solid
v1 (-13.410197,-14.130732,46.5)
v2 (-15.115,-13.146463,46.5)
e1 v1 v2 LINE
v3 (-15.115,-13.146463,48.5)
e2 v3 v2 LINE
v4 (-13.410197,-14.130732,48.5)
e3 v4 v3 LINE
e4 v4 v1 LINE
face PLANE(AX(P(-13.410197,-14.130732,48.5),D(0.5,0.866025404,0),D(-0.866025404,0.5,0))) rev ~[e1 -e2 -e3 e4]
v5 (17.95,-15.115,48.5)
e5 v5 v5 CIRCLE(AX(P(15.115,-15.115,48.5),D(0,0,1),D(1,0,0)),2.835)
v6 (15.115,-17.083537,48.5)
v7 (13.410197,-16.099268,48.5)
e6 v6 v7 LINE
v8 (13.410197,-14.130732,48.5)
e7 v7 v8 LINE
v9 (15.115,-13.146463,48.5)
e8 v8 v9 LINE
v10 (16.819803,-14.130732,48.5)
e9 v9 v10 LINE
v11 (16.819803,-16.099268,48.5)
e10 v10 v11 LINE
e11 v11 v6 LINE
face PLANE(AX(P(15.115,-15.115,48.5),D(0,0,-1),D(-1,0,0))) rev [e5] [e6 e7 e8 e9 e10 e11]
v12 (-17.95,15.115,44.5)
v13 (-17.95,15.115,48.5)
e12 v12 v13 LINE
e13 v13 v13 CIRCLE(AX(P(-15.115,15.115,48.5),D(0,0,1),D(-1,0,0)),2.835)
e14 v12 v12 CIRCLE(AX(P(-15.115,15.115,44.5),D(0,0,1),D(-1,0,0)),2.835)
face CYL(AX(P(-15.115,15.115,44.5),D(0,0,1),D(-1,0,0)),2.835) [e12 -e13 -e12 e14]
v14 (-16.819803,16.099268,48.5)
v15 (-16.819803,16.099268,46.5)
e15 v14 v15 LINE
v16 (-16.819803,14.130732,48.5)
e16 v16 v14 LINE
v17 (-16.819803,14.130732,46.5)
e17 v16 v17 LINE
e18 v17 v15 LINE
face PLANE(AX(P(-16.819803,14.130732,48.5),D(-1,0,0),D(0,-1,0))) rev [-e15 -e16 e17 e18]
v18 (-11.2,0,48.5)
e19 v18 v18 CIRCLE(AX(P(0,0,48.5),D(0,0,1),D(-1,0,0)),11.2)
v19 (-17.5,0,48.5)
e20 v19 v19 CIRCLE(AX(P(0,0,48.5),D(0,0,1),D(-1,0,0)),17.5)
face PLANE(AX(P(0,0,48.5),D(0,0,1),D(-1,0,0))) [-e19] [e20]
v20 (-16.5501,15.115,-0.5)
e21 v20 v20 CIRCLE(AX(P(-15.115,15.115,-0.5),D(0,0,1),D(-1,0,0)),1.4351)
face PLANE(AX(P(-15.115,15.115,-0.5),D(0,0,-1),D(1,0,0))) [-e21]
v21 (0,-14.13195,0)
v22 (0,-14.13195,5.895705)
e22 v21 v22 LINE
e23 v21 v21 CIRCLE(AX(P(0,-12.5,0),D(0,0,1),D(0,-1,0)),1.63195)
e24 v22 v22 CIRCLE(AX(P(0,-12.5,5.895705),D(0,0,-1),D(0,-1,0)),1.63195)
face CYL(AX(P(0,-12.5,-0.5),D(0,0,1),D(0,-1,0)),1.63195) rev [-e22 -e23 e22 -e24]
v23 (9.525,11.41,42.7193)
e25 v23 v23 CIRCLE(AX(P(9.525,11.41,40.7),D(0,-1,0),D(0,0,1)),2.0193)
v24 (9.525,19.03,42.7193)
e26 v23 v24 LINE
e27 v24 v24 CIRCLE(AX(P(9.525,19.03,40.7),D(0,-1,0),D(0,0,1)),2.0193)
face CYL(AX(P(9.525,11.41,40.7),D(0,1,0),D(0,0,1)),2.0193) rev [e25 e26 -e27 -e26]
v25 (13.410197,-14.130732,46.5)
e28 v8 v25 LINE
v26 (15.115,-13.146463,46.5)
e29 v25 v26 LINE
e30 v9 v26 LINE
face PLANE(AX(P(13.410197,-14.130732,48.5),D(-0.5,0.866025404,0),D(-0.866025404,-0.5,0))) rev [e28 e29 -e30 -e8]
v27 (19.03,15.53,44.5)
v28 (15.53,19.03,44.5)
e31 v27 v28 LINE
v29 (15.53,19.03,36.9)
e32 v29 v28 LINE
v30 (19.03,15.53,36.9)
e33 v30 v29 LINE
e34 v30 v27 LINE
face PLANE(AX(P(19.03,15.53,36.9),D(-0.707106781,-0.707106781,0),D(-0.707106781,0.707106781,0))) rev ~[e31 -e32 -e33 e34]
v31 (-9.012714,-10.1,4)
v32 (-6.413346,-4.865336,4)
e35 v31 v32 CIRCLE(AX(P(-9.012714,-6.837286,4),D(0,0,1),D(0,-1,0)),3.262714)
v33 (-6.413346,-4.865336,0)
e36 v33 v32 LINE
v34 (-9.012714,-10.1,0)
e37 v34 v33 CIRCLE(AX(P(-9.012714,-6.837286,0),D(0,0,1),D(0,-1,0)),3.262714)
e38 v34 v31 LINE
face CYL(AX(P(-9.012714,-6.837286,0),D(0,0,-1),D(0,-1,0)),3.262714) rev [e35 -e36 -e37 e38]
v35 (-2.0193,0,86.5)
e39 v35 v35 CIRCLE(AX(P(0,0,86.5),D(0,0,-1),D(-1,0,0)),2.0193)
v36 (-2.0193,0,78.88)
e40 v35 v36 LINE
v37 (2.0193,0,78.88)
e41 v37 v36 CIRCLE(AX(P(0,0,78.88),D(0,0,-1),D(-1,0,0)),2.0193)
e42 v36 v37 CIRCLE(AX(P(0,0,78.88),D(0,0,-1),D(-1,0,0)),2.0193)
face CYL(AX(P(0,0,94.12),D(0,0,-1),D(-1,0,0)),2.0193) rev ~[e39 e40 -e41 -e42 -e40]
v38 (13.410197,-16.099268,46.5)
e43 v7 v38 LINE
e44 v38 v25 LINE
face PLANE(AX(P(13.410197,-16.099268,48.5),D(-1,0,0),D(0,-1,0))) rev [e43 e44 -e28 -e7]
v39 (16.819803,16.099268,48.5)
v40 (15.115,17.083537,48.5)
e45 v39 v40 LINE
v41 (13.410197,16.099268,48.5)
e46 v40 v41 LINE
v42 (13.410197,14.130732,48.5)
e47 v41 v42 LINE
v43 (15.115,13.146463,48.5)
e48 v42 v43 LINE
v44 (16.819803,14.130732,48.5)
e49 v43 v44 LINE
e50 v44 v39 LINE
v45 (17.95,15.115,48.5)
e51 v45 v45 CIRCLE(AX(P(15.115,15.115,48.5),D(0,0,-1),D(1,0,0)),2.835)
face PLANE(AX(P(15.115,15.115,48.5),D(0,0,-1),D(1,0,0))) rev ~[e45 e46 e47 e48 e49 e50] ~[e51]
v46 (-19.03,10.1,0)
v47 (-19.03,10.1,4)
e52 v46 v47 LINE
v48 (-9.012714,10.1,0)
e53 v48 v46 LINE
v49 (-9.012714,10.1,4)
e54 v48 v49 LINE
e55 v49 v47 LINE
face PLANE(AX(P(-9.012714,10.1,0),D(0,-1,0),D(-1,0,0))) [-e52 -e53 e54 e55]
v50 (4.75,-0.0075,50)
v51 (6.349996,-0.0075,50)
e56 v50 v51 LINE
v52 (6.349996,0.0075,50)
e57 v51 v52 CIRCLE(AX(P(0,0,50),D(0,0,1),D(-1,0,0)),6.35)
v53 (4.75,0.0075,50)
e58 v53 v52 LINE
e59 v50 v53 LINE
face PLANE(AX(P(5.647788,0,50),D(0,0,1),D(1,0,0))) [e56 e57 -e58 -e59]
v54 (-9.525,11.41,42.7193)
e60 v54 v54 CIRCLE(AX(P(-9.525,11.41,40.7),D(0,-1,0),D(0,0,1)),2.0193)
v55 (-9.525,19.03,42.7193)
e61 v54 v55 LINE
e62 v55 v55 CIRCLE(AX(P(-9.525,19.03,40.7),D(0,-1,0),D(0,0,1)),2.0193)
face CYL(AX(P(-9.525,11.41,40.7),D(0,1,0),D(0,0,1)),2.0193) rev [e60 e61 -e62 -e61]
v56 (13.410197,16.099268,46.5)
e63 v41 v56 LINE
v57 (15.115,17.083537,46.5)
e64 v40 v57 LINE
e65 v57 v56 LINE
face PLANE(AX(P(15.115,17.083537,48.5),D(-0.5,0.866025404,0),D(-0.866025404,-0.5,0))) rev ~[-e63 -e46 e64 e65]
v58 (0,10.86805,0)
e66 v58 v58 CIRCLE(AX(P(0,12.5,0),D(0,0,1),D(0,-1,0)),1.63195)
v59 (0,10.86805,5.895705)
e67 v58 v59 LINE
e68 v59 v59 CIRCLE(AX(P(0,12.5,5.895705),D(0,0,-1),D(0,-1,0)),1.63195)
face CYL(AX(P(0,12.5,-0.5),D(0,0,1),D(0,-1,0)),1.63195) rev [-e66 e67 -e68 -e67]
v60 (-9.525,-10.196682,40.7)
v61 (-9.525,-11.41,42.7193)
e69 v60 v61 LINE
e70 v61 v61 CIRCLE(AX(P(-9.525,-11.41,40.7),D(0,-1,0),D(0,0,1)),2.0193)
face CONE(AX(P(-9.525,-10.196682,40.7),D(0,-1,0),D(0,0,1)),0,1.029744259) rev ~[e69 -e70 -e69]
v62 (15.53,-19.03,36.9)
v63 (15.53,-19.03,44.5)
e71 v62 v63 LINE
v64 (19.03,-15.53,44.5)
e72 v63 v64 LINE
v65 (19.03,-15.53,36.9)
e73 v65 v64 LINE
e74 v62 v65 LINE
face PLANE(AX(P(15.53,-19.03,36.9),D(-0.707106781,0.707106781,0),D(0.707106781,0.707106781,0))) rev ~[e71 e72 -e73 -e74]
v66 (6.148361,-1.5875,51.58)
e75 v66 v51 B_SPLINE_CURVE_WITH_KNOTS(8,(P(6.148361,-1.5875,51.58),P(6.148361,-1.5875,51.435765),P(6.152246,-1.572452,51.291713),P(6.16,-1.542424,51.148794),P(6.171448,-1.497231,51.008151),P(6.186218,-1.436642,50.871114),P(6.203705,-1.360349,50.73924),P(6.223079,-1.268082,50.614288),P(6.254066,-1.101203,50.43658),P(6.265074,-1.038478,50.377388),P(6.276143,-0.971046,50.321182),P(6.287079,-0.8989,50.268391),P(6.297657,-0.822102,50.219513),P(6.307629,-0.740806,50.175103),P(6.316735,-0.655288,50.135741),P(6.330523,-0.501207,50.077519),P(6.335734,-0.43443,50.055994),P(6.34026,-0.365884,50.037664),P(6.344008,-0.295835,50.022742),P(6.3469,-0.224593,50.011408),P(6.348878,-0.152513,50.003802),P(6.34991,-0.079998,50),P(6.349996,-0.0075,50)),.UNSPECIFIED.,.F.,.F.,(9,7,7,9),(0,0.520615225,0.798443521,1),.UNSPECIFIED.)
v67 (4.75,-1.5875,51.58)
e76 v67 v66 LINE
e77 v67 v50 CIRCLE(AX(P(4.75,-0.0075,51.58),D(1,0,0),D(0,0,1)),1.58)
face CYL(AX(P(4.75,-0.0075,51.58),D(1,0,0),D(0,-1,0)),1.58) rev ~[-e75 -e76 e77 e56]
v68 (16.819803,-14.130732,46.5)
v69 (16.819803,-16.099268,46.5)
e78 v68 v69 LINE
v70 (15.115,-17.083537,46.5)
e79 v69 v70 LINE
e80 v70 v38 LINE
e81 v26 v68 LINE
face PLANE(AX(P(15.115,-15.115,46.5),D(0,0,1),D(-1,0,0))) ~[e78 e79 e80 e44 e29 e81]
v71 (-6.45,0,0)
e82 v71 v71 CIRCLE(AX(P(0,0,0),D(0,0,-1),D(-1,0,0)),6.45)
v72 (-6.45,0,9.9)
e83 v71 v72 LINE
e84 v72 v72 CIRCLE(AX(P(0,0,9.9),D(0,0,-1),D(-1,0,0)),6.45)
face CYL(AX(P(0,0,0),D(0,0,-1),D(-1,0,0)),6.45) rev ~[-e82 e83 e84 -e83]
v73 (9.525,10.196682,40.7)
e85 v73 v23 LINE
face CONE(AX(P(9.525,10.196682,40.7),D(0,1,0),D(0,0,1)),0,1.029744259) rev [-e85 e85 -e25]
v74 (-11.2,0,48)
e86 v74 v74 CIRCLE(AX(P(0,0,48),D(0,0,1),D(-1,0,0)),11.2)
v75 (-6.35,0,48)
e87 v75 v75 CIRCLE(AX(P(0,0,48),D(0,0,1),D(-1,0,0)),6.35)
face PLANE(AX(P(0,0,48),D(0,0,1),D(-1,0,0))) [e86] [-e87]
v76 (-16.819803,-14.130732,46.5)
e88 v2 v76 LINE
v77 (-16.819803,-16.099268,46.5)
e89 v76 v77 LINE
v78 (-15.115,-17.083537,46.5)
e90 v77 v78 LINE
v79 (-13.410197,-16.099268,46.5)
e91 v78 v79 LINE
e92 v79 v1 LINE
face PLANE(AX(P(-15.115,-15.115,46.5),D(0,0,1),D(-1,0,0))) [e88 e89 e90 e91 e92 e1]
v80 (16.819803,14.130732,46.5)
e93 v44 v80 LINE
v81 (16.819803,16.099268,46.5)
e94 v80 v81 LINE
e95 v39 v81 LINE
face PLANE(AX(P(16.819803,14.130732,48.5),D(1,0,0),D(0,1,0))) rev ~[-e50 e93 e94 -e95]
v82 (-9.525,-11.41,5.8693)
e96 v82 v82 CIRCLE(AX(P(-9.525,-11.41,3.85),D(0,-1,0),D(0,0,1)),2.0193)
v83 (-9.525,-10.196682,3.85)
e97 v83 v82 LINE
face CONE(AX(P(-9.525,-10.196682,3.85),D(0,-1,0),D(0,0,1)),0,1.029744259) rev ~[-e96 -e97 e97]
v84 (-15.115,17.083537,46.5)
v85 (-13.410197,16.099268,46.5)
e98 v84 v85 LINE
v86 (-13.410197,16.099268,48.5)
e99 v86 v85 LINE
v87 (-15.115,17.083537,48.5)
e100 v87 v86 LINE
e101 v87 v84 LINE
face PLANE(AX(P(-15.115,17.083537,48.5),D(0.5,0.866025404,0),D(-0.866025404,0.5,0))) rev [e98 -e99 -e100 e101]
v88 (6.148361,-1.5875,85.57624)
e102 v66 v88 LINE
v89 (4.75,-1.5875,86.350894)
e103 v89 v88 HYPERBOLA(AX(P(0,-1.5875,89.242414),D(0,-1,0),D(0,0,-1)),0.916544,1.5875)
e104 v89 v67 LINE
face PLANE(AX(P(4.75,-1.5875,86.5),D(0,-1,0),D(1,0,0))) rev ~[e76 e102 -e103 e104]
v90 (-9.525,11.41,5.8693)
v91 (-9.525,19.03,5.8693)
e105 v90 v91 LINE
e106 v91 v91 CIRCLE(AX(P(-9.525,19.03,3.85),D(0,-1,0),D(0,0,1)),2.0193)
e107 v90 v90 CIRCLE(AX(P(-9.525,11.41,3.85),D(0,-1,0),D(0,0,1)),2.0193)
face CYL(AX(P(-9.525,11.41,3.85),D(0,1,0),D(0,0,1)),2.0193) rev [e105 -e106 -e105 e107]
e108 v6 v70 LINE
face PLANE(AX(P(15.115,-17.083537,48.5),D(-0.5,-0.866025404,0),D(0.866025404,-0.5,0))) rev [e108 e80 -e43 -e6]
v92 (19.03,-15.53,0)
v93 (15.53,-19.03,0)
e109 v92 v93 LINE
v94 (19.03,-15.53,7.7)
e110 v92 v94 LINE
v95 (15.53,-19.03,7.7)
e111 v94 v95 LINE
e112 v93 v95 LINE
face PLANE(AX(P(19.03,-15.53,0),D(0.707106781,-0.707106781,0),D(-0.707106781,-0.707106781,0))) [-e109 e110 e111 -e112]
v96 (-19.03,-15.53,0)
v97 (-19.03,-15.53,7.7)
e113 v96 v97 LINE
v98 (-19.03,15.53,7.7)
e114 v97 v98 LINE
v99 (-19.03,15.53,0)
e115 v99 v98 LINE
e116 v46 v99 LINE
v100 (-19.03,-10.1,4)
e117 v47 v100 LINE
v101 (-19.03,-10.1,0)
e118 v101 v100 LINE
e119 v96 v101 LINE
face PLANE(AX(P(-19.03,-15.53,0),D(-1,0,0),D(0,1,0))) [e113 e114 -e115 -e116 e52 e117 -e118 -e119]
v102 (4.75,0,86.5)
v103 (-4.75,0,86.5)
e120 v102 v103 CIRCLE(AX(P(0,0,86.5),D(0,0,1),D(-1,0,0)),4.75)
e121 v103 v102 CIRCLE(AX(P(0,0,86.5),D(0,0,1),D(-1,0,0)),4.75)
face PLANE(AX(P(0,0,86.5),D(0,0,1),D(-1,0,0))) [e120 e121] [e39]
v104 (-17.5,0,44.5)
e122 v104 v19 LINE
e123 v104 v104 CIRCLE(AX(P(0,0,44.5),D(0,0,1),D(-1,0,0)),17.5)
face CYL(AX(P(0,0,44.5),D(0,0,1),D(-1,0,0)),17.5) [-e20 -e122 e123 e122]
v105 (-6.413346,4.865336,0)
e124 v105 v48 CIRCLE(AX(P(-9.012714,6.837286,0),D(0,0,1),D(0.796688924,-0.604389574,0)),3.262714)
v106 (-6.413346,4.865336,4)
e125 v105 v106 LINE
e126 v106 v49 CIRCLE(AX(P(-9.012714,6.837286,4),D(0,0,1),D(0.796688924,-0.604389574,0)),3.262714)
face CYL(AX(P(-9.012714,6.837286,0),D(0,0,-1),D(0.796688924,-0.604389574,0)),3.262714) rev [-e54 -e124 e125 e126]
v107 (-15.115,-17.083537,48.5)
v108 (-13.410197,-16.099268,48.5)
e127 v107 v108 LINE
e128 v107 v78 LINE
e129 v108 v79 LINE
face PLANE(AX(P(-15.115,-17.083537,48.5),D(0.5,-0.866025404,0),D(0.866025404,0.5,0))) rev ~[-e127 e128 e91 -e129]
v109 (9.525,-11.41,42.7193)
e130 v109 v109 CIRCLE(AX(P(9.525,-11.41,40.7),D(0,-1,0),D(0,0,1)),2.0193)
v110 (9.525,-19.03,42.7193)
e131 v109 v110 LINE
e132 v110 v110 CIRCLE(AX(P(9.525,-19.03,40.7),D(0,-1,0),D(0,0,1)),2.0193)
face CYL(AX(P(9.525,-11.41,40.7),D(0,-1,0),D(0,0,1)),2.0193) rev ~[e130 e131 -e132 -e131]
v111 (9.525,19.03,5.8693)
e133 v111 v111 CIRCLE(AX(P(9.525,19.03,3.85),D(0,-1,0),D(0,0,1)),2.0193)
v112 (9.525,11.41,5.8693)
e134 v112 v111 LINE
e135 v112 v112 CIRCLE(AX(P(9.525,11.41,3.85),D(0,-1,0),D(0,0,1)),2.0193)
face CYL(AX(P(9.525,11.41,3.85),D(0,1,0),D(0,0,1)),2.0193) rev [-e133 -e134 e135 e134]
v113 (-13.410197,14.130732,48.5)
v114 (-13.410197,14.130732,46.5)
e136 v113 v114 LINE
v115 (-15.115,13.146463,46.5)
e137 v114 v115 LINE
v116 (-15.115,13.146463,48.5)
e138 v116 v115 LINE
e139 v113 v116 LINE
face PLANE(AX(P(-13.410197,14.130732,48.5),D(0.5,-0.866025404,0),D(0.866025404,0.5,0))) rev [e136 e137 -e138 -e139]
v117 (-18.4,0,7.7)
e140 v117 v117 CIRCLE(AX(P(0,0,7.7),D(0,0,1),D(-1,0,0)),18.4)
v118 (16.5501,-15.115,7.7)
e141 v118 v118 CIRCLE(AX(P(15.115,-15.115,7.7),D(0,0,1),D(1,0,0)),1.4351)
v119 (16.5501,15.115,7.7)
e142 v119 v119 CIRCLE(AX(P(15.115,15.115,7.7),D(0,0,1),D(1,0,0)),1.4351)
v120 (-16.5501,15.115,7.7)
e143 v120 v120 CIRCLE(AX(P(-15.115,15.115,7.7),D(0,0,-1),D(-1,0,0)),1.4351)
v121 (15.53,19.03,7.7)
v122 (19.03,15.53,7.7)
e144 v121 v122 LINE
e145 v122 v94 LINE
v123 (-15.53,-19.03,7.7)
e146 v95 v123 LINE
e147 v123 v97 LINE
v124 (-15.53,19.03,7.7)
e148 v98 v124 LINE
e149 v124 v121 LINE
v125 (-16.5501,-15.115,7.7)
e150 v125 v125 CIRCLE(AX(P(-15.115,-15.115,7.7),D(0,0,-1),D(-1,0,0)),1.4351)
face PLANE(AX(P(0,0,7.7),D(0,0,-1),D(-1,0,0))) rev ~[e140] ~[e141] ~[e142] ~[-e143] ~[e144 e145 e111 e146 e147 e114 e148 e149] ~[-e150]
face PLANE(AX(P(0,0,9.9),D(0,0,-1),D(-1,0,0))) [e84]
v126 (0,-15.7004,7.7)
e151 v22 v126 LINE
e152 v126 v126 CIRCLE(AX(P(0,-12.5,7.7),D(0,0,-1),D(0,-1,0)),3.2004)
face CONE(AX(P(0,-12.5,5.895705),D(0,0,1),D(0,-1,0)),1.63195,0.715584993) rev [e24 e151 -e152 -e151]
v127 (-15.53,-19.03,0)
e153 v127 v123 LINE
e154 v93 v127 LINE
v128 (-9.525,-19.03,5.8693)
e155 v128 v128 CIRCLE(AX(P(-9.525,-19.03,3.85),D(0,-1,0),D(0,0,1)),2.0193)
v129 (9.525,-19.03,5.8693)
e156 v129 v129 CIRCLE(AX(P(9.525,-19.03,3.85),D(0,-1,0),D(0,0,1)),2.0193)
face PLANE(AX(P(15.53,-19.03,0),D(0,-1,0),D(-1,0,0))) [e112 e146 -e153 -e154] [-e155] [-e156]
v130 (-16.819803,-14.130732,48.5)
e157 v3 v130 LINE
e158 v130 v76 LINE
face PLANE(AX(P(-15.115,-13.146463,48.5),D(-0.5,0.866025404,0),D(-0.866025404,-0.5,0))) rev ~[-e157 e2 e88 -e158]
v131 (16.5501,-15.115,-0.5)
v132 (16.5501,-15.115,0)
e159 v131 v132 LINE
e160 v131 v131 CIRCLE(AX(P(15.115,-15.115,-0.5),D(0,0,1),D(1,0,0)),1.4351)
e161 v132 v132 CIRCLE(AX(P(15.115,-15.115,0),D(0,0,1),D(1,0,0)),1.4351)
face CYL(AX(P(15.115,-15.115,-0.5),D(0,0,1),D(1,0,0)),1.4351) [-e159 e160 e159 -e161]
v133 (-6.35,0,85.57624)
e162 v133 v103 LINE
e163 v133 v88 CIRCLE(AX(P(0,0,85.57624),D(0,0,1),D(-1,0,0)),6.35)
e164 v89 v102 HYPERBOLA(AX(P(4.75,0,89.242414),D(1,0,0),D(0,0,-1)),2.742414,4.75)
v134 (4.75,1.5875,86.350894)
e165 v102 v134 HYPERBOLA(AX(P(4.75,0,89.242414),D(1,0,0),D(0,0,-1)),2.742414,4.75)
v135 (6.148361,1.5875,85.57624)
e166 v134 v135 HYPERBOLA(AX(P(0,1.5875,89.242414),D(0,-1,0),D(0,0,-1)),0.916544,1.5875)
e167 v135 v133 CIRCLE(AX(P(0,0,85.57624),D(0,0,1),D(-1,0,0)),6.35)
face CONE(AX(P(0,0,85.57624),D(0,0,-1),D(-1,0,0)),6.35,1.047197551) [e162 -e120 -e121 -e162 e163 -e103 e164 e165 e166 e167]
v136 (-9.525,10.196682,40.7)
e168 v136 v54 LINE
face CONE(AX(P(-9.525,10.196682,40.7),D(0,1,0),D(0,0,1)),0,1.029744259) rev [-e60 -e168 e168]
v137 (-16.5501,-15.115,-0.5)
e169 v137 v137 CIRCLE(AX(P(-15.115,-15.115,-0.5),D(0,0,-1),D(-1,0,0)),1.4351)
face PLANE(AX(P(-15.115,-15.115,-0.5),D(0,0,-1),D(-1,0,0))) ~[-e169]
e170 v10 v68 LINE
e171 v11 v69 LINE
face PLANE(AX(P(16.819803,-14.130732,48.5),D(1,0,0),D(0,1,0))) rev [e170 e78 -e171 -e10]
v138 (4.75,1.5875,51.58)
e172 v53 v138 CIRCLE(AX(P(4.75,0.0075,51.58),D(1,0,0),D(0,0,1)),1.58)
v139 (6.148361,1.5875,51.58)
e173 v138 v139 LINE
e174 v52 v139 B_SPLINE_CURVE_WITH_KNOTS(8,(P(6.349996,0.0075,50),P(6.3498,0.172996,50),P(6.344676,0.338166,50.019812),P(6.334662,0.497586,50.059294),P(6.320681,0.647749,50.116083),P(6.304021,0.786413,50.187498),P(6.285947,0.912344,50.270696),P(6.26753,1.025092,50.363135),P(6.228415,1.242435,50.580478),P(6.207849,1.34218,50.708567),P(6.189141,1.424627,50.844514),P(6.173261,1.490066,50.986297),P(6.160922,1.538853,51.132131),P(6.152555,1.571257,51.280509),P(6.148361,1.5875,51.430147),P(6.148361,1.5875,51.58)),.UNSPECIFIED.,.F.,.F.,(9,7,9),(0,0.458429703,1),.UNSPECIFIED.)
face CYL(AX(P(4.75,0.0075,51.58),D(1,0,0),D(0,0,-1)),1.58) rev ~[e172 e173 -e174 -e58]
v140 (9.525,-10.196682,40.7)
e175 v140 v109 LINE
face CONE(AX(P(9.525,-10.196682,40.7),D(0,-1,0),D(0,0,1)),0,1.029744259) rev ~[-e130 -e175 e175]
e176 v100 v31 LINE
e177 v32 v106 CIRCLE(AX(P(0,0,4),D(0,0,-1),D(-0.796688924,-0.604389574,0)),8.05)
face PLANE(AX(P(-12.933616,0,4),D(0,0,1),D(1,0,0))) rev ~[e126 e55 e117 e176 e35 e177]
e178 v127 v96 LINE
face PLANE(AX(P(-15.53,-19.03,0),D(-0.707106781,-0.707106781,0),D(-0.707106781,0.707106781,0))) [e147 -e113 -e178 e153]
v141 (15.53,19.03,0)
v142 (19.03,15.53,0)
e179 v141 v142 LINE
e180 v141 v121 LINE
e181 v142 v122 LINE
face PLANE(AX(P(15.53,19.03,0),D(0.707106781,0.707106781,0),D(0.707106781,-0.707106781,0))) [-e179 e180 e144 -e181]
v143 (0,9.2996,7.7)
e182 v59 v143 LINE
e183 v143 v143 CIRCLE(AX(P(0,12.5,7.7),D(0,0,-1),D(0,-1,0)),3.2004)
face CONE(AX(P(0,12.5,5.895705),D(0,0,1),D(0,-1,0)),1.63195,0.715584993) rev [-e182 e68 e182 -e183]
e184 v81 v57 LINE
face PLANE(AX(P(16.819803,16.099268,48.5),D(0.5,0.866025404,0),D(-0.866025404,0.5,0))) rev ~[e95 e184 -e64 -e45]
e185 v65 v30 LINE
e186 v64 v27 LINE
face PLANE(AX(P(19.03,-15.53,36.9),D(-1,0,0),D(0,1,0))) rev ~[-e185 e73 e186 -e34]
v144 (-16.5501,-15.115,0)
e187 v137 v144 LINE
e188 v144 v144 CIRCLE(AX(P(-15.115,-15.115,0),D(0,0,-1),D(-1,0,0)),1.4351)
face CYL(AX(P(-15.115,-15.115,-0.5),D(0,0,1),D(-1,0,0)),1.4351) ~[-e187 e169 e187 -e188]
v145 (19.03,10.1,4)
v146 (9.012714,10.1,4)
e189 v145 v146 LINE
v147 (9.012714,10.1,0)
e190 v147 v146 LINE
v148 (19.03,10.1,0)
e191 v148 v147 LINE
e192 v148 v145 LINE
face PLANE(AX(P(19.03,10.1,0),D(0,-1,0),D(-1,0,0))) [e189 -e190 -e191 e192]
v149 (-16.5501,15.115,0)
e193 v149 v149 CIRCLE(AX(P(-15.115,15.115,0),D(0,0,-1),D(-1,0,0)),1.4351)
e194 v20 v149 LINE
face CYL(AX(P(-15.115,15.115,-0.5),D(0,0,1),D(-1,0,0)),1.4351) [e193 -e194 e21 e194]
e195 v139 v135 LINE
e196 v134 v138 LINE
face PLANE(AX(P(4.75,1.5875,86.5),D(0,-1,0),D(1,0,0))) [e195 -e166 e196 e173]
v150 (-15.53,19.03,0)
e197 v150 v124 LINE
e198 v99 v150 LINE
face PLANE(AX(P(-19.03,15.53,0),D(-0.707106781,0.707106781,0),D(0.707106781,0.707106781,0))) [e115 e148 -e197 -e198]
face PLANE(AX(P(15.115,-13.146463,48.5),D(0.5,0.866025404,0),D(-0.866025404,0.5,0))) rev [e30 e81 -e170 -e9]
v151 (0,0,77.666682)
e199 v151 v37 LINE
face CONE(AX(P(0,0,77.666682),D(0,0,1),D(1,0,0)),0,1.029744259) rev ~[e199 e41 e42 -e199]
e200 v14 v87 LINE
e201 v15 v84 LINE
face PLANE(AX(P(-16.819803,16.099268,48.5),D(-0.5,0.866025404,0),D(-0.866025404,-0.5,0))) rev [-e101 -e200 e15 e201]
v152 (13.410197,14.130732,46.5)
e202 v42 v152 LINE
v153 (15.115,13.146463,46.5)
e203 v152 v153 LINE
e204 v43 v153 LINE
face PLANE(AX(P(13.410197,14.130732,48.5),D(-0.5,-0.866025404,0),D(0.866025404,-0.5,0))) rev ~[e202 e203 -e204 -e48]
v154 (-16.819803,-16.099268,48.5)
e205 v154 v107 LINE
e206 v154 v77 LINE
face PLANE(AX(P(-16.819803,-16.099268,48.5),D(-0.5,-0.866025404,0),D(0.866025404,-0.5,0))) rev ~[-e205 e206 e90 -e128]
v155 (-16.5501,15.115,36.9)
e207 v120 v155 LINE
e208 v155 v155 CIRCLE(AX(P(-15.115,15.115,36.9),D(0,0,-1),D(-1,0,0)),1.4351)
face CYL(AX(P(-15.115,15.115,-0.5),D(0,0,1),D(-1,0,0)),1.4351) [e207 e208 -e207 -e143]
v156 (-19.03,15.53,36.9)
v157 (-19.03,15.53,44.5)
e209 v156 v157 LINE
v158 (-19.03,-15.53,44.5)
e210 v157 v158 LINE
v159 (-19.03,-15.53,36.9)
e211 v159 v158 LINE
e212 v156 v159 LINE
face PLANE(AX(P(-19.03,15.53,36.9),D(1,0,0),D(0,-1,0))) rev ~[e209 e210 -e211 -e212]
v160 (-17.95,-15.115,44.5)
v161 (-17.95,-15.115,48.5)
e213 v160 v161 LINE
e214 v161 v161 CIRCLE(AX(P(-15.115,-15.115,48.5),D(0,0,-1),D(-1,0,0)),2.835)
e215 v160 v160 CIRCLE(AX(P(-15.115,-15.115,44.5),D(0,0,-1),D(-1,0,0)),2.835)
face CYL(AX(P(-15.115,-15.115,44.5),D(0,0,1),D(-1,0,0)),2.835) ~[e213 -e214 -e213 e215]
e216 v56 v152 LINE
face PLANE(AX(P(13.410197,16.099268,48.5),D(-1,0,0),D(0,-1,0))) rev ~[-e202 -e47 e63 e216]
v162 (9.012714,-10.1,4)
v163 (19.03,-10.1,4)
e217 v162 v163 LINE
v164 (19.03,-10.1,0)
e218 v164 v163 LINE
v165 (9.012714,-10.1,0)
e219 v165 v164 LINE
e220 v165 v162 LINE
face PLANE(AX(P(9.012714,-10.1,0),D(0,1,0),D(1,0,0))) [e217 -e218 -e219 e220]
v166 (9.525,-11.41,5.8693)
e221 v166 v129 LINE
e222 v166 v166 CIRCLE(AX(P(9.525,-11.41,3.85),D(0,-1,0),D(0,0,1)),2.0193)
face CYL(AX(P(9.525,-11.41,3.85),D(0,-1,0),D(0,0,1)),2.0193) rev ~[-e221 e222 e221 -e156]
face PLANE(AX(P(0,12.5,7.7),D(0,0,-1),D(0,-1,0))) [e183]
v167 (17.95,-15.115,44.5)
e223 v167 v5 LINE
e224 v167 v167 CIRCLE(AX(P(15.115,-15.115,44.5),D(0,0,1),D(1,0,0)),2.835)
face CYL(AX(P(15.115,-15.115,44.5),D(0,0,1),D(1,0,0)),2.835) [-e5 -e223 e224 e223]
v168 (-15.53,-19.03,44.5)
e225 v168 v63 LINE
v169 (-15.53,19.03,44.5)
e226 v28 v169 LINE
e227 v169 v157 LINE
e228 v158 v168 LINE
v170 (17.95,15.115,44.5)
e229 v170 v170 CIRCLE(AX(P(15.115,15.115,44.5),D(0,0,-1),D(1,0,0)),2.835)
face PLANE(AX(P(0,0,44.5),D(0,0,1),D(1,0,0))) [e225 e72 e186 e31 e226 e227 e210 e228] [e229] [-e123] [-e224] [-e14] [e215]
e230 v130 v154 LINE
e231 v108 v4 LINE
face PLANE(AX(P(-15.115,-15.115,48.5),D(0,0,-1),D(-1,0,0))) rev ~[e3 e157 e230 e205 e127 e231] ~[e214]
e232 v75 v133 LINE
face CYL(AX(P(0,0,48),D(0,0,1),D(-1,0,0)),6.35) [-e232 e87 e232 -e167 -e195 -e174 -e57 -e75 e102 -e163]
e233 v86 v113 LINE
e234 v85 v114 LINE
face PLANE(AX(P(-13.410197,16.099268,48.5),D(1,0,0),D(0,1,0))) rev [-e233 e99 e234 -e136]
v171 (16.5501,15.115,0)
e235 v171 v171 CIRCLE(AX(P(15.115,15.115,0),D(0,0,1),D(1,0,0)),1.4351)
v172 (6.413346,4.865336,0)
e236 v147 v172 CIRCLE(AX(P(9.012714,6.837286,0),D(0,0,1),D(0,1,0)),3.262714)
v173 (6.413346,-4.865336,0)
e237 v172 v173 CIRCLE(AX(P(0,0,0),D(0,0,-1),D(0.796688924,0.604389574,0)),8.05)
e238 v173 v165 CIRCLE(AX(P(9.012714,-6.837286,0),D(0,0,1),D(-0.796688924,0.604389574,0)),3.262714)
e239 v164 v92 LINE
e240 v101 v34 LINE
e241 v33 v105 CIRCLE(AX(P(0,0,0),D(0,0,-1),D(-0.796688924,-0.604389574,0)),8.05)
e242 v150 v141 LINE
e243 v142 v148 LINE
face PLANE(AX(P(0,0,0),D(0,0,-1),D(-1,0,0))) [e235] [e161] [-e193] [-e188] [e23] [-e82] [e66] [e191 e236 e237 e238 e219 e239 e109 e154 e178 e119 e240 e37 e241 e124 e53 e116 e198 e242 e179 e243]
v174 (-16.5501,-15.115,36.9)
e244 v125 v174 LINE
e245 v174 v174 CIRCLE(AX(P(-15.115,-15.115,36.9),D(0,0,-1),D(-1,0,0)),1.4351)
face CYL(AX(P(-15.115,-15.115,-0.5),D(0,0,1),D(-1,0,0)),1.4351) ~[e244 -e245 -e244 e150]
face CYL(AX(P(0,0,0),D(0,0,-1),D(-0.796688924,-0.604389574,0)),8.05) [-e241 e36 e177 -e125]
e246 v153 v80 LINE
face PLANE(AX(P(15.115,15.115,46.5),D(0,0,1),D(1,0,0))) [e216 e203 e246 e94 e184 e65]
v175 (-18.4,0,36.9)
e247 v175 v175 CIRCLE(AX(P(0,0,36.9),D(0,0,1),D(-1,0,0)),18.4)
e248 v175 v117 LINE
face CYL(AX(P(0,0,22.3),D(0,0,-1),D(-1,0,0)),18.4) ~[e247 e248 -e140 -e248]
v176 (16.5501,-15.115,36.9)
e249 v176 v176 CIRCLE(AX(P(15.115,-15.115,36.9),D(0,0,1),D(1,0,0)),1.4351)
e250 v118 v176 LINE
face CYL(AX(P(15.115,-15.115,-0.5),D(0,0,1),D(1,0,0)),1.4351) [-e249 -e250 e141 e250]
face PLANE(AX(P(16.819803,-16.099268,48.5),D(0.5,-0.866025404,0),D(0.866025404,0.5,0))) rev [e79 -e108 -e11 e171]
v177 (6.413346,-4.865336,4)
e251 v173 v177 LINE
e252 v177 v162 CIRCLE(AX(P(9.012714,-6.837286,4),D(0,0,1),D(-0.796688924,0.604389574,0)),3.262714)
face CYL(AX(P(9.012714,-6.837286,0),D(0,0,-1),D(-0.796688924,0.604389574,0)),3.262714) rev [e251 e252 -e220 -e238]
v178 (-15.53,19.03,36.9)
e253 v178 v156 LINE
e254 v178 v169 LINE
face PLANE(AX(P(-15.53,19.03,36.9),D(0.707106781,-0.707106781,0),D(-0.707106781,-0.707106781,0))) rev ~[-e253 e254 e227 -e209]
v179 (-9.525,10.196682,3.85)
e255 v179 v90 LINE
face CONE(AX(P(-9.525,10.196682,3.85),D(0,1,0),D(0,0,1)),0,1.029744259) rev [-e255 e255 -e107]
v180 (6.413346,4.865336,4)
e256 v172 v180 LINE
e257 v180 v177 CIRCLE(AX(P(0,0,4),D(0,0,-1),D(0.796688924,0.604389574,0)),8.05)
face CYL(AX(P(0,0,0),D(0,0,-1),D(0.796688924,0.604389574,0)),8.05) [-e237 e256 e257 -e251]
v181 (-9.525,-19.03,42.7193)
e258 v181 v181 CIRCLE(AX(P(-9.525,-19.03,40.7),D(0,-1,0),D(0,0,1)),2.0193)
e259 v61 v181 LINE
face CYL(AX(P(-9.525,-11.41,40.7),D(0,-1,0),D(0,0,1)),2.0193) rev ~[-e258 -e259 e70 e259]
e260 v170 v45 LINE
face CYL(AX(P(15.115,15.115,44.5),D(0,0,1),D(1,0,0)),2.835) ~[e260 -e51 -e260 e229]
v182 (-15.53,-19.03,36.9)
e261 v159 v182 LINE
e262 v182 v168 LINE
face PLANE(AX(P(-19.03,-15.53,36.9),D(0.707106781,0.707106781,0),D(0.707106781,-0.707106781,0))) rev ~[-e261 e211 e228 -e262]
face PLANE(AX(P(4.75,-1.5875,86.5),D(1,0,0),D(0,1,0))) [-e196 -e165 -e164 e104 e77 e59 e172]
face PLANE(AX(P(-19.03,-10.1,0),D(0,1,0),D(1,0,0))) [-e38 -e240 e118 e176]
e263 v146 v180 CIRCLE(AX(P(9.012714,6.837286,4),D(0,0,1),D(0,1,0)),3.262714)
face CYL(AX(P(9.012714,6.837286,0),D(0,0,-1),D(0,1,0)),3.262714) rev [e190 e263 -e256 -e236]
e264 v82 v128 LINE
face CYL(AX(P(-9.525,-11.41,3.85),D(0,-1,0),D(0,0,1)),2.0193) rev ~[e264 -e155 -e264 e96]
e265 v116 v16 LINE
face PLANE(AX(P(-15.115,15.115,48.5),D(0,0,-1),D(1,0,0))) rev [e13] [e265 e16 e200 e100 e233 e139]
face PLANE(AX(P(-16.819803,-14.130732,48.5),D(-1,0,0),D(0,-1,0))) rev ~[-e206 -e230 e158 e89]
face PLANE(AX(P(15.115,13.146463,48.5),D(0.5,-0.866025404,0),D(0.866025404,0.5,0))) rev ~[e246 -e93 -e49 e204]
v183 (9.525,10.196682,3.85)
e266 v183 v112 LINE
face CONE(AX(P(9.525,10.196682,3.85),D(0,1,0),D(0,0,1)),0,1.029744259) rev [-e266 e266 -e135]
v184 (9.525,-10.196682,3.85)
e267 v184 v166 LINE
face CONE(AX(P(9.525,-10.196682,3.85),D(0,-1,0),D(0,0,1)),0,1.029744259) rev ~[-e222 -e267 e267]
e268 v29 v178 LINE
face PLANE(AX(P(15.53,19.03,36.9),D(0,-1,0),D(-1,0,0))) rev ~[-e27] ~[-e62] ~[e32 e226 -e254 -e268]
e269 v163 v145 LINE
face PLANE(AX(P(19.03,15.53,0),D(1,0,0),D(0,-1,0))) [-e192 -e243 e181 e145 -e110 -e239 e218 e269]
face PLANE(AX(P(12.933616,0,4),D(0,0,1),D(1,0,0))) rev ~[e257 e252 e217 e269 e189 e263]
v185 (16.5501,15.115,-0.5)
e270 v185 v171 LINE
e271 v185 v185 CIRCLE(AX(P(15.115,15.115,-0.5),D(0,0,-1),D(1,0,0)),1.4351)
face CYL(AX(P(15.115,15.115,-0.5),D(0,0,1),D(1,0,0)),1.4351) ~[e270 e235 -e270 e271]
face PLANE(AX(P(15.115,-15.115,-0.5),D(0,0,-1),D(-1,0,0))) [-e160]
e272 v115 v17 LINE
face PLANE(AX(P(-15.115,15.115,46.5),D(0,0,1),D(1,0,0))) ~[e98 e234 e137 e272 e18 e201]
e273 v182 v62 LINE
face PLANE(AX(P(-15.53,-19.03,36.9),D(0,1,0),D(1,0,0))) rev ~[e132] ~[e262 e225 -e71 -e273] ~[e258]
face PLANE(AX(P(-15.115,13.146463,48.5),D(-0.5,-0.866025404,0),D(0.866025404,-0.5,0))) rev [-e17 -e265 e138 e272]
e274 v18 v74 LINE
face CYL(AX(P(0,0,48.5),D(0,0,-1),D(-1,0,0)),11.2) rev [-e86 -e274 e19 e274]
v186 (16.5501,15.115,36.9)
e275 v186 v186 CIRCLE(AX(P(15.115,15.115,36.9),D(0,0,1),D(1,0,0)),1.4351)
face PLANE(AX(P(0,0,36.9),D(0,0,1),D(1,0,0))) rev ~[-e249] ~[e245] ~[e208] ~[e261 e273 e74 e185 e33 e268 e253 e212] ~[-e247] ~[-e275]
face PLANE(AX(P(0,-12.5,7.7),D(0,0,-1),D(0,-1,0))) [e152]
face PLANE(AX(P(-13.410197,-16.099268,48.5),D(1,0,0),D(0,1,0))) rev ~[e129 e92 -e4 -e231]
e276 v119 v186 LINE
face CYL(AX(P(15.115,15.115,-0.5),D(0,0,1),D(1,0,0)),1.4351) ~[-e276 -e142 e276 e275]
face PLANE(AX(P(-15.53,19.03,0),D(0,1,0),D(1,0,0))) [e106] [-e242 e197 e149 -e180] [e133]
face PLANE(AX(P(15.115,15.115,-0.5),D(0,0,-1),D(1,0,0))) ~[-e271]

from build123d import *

# Parameters (mm, degrees)
RESSALTO_EXTRUS_O1_DEPTH                      = 7.7
ESBO_O4_W                                     = 18.4
ESBO_O4_H                                     = 29.2
ESBO_O3_R                                     = 6.45
CORTE_EXTRUS_O1_DEPTH                         = 9.9
RESSALTO_EXTRUS_O2_DEPTH                      = 7.6
CORTE_EXTRUS_O2_DEPTH                         = 4
BROCA_DE_ROSQUEAR_PARA_TARRAXA_DE_10_32_D     = 4.0386
BROCA_DE_ROSQUEAR_PARA_TARRAXA_DE_10_32_DEPTH = 7.62
BROCA_DE_ROSQUEAR_PARA_TARRAXA_DE_10_32_TIP   = 1.213317848
ESBO_O9_W                                     = 1.795576077
ESBO_O9_H                                     = 3.175
CORTE_EXTRUS_O3_DEPTH                         = 36.5
FILETE1_R                                     = 1.58
BROCA_DE_ROSQUEAR_PARA_TARRAXA_DE_1_2_A_COUNT = 2
BROCA_DE_ROSQUEAR_PARA_TARRAXA_DE_1_2_A_PITCH = 19.05
BROCA_DE_ROSQUEAR_PARA_TARRAXA_DE_1_3_COUNT   = 2
BROCA_DE_ROSQUEAR_PARA_TARRAXA_DE_1_3_PITCH   = 41.482827772
BROCA_DE_ROSQUEAR_PARA_TARRAXA_DE_1_4_COUNT   = 2
BROCA_DE_ROSQUEAR_PARA_TARRAXA_DE_1_4_PITCH   = 36.85
BROCA_DE_ROSQUEAR_PARA_TARRAXA_DE_6_401_D     = 2.8702
CORTE_EXTRUS_O4_DEPTH                         = 2
ESPELHAR1_COPY_2_DEPTH                        = 2
ESCAREADO_PARA_PARAFUSO_DE_M_QUINA_C_2_COUNT  = 2
ESCAREADO_PARA_PARAFUSO_DE_M_QUINA_C_2_PITCH  = 25


with BuildPart() as part:
    # Esboço2 → Ressalto-extrusão1 (new body)
    with BuildSketch(Plane.XY):
        Polygon((-19.03, 15.53), (-15.53, 19.03), (15.53, 19.03), (19.03, 15.53), (19.03, -15.53), (15.53, -19.03), (-15.53, -19.03), (-19.03, -15.53), align=None)
    extrude(amount=RESSALTO_EXTRUS_O1_DEPTH)

    # Esboço4 → Revolução1 (revolve)
    with BuildSketch(Plane(origin=(0, 0, 0), x_dir=(1, 0, 0), z_dir=(0, 1, 0)), mode=Mode.PRIVATE) as revolu_o1_sk:
        with Locations((9.2, -22.3)):
            Rectangle(ESBO_O4_W, ESBO_O4_H)
        Polygon((0, -44.5), (17.5, -44.5), (17.5, -48.5), (11.2, -48.5), (11.2, -48), (6.35, -48), (6.35, -85.576239569), (4.75, -86.5), (0, -86.5), align=None)
    revolve(revolu_o1_sk.sketch.rotate(Axis((0, 0, -5.757774852), (0, 0, 1)), 180), axis=Axis((0, 0, -5.757774852), (0, 0, 1)))


with BuildPart() as revolu_o1_piece_1:
    # of the separate pieces the step leaves, piece 1, a body of its own (revolu_o1_pieces)
    add(part.part.solids().sort_by_distance((-19.03, 15.53, 0))[0])

    # Esboço3 → Corte-extrusão1 (cut)
    with BuildSketch(Plane(origin=(0, 0, 0), x_dir=(-1, 0, 0), z_dir=(0, 0, -1))):
        Circle(ESBO_O3_R)
    extrude(amount=-CORTE_EXTRUS_O1_DEPTH, mode=Mode.SUBTRACT)



with BuildPart() as revolu_o1_piece_2:
    # of the separate pieces the step leaves, piece 2, a body of its own (revolu_o1_pieces)
    add(part.part.solids().sort_by_distance((-17.5, 0, 44.5))[0])


with BuildPart() as revolu_o1_piece_1_1:
    add(revolu_o1_piece_1.part)

    add(revolu_o1_piece_2.part)  # Ressalto-extrusão2 merges Revolução1 piece 2
    # Esboço5 → Ressalto-extrusão2 (add)
    with BuildSketch(Plane.XY.offset(36.9)):
        Polygon((-15.53, 19.03), (-19.03, 15.53), (-19.03, -15.53), (-15.53, -19.03), (15.53, -19.03), (19.03, -15.53), (19.03, 15.53), (15.53, 19.03), align=None)
    extrude(amount=RESSALTO_EXTRUS_O2_DEPTH)

    # Esboço6 → Corte-extrusão2 (cut)
    with BuildSketch(Plane(origin=(0, 0, 0), x_dir=(-1, 0, 0), z_dir=(0, 0, -1))):
        with BuildLine():
            Line((-19.03, -10.1), (-19.03, 10.1))
            Line((-19.03, 10.1), (-9.012713751, 10.1))
            ThreePointArc((-9.012713751, 10.1), (-6.090453498, 8.288387911), (-6.413345842, 4.865336074))
            ThreePointArc((-6.413345842, 4.865336074), (-8.05, 0), (-6.413345842, -4.865336074))
            ThreePointArc((-6.413345842, -4.865336074), (-6.090453498, -8.288387911), (-9.012713751, -10.1))
            Line((-9.012713751, -10.1), (-19.03, -10.1))
        make_face()
        with BuildLine():
            Line((19.03, -10.1), (9.012713751, -10.1))
            ThreePointArc((9.012713751, -10.1), (6.090453498, -8.288387911), (6.413345842, -4.865336074))
            ThreePointArc((6.413345842, -4.865336074), (8.05, 0), (6.413345842, 4.865336074))
            ThreePointArc((6.413345842, 4.865336074), (6.090453498, 8.288387911), (9.012713751, 10.1))
            Line((9.012713751, 10.1), (19.03, 10.1))
            Line((19.03, 10.1), (19.03, -10.1))
        make_face()
    extrude(amount=-CORTE_EXTRUS_O2_DEPTH, mode=Mode.SUBTRACT)

    # Broca de rosquear para tarraxa de _10-32
    with Locations(Plane.XY.offset(86.5)):
        with Locations((0, 0)):
            Hole(BROCA_DE_ROSQUEAR_PARA_TARRAXA_DE_10_32_D / 2, depth=BROCA_DE_ROSQUEAR_PARA_TARRAXA_DE_10_32_DEPTH)
            with Locations((0, 0, -(BROCA_DE_ROSQUEAR_PARA_TARRAXA_DE_10_32_DEPTH + BROCA_DE_ROSQUEAR_PARA_TARRAXA_DE_10_32_TIP / 2))):  # 118° drill point
                Cone(0, BROCA_DE_ROSQUEAR_PARA_TARRAXA_DE_10_32_D / 2, BROCA_DE_ROSQUEAR_PARA_TARRAXA_DE_10_32_TIP, mode=Mode.SUBTRACT)

    # Esboço9 → Corte-extrusão3 (cut)
    with BuildSketch(Plane.XY.offset(86.5)):
        with Locations((5.647788038, 0)):
            Rectangle(ESBO_O9_W, ESBO_O9_H)
    extrude(amount=-CORTE_EXTRUS_O3_DEPTH, mode=Mode.SUBTRACT)

    # Filete1
    filete1_edges = [revolu_o1_piece_1_1.edges().sort_by_distance(p)[0] for p in [
        (5.449180531, 1.5875, 50),
        (5.449180531, -1.5875, 50),
    ]]
    fillet(filete1_edges, radius=FILETE1_R)

    # Esboço11 → Broca de rosquear para tarraxa de _1 2 (revolve, cut)
    with BuildSketch(Plane(origin=(9.525, 19.03, 3.85), x_dir=(0, 0, 1), z_dir=(1, 0, 0))):
        Polygon((0, 0), (0, 8.833317848), (2.0193, 7.62), (2.0193, 0), align=None)
    broca_de_rosquear_para_tarraxa_de_1_2 = revolve(axis=Axis((9.525, 25.38, 3.85), (0, -1, 0)), mode=Mode.SUBTRACT)

    # Broca de rosquear para tarraxa de _1 2 a: Broca de rosquear para tarraxa de _1 2 ×2
    with Locations(*[(-i * BROCA_DE_ROSQUEAR_PARA_TARRAXA_DE_1_2_A_PITCH, 0, 0) for i in range(1, BROCA_DE_ROSQUEAR_PARA_TARRAXA_DE_1_2_A_COUNT)]):
        add(broca_de_rosquear_para_tarraxa_de_1_2, mode=Mode.SUBTRACT)

    # Broca de rosquear para tarraxa de _1 3: Broca de rosquear para tarraxa de _1 2 ×2
    with Locations(*[Vector(-0.45922616713812264, 0, 0.8883193836766308) * (i * BROCA_DE_ROSQUEAR_PARA_TARRAXA_DE_1_3_PITCH) for i in range(1, BROCA_DE_ROSQUEAR_PARA_TARRAXA_DE_1_3_COUNT)]):
        add(broca_de_rosquear_para_tarraxa_de_1_2, mode=Mode.SUBTRACT)

    # Broca de rosquear para tarraxa de _1 4: Broca de rosquear para tarraxa de _1 2 ×2
    with Locations(*[(0, 0, i * BROCA_DE_ROSQUEAR_PARA_TARRAXA_DE_1_4_PITCH) for i in range(1, BROCA_DE_ROSQUEAR_PARA_TARRAXA_DE_1_4_COUNT)]):
        add(broca_de_rosquear_para_tarraxa_de_1_2, mode=Mode.SUBTRACT)

    # Espelhar3: Broca de rosquear para tarraxa de _1 2 across plane
    add(broca_de_rosquear_para_tarraxa_de_1_2.mirror(Plane.ZX), mode=Mode.SUBTRACT)

    # Espelhar3 copy 1 sketch → Espelhar3 copy 1 (revolve, cut)
    with BuildSketch(Plane(origin=(-9.525, -19.03, 3.85), x_dir=(0, 0, 1), z_dir=(1, 0, 0))):
        Polygon((0, 0), (0, -8.833317848), (2.0193, -7.62), (2.0193, 0), align=None)
    revolve(axis=Axis((-9.525, -25.38, 3.85), (0, -1, 0)), mode=Mode.SUBTRACT)

    # Espelhar3 copy 2 sketch → Espelhar3 copy 2 (revolve, cut)
    with BuildSketch(Plane(origin=(-9.525, -19.03, 40.7), x_dir=(0, 0, 1), z_dir=(1, 0, 0))):
        Polygon((0, 0), (0, -8.833317848), (2.0193, -7.62), (2.0193, 0), align=None)
    revolve(axis=Axis((-9.525, -25.38, 40.7), (0, -1, 0)), mode=Mode.SUBTRACT)

    # Espelhar3 copy 3 sketch → Espelhar3 copy 3 (revolve, cut)
    with BuildSketch(Plane(origin=(9.525, -19.03, 40.7), x_dir=(0, 0, 1), z_dir=(1, 0, 0))):
        Polygon((0, 0), (0, -8.833317848), (2.0193, -7.62), (2.0193, 0), align=None)
    revolve(axis=Axis((9.525, -25.38, 40.7), (0, -1, 0)), mode=Mode.SUBTRACT)

    # Broca de rosquear para tarraxa de #6-401 (through all)
    with Locations(Plane(origin=(0, 0, 0), x_dir=(-1, 0, 0), z_dir=(0, 0, -1))):
        with Locations((-15.115, 15.115), (15.115, 15.115), (15.115, -15.115), (-15.115, -15.115)):
            Hole(BROCA_DE_ROSQUEAR_PARA_TARRAXA_DE_6_401_D / 2)

    # Esboço16 → Revolução2 (revolve)
    with BuildSketch(Plane(origin=(0, 15.115, 0), x_dir=(1, 0, 0), z_dir=(0, 1, 0))):
        Polygon((15.115, 0.5), (16.5501, 0.5), (16.5501, -44.5), (17.95, -44.5), (17.95, -48.5), (15.115, -48.5), align=None)
    revolu_o2 = revolve(axis=Axis((15.115, 15.115, 60.999619422), (0, 0, -1)))

    # Esboço17 → Corte-extrusão4 (cut)
    with BuildSketch(Plane.XY.offset(48.5)):
        Polygon((13.410197167, 16.099268375), (13.410197167, 14.130731625), (15.115, 13.146463251), (16.819802833, 14.130731625), (16.819802833, 16.099268375), (15.115, 17.083536749), align=None)
    corte_extrus_o4 = extrude(amount=-CORTE_EXTRUS_O4_DEPTH, mode=Mode.SUBTRACT)

    # Espelhar2: Revolução2, Corte-extrusão4 across plane
    add(revolu_o2.mirror(Plane(origin=(0, 0, 0), x_dir=(0, 0, 1), z_dir=(1, 0, 0))))
    add(corte_extrus_o4.mirror(Plane(origin=(0, 0, 0), x_dir=(0, 0, 1), z_dir=(1, 0, 0))), mode=Mode.SUBTRACT)

    # Espelhar1: Revolução2, Corte-extrusão4 across plane
    add(revolu_o2.mirror(Plane.ZX))
    add(corte_extrus_o4.mirror(Plane.ZX), mode=Mode.SUBTRACT)

    # Espelhar1 copy 1 sketch → Espelhar1 copy 1 (revolve)
    with BuildSketch(Plane(origin=(0, -15.115, 0), x_dir=(-1, 0, 0), z_dir=(0, -1, 0))):
        Polygon((15.115, 0.5), (16.5501, 0.5), (16.5501, -44.5), (17.95, -44.5), (17.95, -48.5), (15.115, -48.5), align=None)
    revolve(axis=Axis((-15.115, -15.115, 60.999619422), (0, 0, -1)))

    # Espelhar1 copy 2 sketch → Espelhar1 copy 2 (cut)
    with BuildSketch(Plane(origin=(0, 0, 48.5), x_dir=(-1, 0, 0), z_dir=(0, 0, 1))):
        Polygon((13.410197167, 16.099268375), (13.410197167, 14.130731625), (15.115, 13.146463251), (16.819802833, 14.130731625), (16.819802833, 16.099268375), (15.115, 17.083536749), align=None)
    extrude(amount=-ESPELHAR1_COPY_2_DEPTH, mode=Mode.SUBTRACT)

    # Esboço19 → Escareado para parafuso de máquina com cabeça chata de #51 (revolve, cut)
    with BuildSketch(Plane(origin=(0, 12.5, 7.7), x_dir=(0, -1, 0), z_dir=(1, 0, 0))):
        Polygon((0, 0), (0, 8.2), (1.63195, 8.2), (1.63195, 1.804295328), (3.2004, 0), align=None)
    escareado_para_parafuso_de_m_quina_com_c = revolve(axis=Axis((0, 12.5, 14.05), (0, 0, -1)), mode=Mode.SUBTRACT)

    # Escareado para parafuso de m_quina c 2: Escareado para parafuso de máquina com cabeça chata de #51 ×2
    with Locations(*[(0, -i * ESCAREADO_PARA_PARAFUSO_DE_M_QUINA_C_2_PITCH, 0) for i in range(1, ESCAREADO_PARA_PARAFUSO_DE_M_QUINA_C_2_COUNT)]):
        add(escareado_para_parafuso_de_m_quina_com_c, mode=Mode.SUBTRACT)


solid = revolu_o1_piece_1_1.part
